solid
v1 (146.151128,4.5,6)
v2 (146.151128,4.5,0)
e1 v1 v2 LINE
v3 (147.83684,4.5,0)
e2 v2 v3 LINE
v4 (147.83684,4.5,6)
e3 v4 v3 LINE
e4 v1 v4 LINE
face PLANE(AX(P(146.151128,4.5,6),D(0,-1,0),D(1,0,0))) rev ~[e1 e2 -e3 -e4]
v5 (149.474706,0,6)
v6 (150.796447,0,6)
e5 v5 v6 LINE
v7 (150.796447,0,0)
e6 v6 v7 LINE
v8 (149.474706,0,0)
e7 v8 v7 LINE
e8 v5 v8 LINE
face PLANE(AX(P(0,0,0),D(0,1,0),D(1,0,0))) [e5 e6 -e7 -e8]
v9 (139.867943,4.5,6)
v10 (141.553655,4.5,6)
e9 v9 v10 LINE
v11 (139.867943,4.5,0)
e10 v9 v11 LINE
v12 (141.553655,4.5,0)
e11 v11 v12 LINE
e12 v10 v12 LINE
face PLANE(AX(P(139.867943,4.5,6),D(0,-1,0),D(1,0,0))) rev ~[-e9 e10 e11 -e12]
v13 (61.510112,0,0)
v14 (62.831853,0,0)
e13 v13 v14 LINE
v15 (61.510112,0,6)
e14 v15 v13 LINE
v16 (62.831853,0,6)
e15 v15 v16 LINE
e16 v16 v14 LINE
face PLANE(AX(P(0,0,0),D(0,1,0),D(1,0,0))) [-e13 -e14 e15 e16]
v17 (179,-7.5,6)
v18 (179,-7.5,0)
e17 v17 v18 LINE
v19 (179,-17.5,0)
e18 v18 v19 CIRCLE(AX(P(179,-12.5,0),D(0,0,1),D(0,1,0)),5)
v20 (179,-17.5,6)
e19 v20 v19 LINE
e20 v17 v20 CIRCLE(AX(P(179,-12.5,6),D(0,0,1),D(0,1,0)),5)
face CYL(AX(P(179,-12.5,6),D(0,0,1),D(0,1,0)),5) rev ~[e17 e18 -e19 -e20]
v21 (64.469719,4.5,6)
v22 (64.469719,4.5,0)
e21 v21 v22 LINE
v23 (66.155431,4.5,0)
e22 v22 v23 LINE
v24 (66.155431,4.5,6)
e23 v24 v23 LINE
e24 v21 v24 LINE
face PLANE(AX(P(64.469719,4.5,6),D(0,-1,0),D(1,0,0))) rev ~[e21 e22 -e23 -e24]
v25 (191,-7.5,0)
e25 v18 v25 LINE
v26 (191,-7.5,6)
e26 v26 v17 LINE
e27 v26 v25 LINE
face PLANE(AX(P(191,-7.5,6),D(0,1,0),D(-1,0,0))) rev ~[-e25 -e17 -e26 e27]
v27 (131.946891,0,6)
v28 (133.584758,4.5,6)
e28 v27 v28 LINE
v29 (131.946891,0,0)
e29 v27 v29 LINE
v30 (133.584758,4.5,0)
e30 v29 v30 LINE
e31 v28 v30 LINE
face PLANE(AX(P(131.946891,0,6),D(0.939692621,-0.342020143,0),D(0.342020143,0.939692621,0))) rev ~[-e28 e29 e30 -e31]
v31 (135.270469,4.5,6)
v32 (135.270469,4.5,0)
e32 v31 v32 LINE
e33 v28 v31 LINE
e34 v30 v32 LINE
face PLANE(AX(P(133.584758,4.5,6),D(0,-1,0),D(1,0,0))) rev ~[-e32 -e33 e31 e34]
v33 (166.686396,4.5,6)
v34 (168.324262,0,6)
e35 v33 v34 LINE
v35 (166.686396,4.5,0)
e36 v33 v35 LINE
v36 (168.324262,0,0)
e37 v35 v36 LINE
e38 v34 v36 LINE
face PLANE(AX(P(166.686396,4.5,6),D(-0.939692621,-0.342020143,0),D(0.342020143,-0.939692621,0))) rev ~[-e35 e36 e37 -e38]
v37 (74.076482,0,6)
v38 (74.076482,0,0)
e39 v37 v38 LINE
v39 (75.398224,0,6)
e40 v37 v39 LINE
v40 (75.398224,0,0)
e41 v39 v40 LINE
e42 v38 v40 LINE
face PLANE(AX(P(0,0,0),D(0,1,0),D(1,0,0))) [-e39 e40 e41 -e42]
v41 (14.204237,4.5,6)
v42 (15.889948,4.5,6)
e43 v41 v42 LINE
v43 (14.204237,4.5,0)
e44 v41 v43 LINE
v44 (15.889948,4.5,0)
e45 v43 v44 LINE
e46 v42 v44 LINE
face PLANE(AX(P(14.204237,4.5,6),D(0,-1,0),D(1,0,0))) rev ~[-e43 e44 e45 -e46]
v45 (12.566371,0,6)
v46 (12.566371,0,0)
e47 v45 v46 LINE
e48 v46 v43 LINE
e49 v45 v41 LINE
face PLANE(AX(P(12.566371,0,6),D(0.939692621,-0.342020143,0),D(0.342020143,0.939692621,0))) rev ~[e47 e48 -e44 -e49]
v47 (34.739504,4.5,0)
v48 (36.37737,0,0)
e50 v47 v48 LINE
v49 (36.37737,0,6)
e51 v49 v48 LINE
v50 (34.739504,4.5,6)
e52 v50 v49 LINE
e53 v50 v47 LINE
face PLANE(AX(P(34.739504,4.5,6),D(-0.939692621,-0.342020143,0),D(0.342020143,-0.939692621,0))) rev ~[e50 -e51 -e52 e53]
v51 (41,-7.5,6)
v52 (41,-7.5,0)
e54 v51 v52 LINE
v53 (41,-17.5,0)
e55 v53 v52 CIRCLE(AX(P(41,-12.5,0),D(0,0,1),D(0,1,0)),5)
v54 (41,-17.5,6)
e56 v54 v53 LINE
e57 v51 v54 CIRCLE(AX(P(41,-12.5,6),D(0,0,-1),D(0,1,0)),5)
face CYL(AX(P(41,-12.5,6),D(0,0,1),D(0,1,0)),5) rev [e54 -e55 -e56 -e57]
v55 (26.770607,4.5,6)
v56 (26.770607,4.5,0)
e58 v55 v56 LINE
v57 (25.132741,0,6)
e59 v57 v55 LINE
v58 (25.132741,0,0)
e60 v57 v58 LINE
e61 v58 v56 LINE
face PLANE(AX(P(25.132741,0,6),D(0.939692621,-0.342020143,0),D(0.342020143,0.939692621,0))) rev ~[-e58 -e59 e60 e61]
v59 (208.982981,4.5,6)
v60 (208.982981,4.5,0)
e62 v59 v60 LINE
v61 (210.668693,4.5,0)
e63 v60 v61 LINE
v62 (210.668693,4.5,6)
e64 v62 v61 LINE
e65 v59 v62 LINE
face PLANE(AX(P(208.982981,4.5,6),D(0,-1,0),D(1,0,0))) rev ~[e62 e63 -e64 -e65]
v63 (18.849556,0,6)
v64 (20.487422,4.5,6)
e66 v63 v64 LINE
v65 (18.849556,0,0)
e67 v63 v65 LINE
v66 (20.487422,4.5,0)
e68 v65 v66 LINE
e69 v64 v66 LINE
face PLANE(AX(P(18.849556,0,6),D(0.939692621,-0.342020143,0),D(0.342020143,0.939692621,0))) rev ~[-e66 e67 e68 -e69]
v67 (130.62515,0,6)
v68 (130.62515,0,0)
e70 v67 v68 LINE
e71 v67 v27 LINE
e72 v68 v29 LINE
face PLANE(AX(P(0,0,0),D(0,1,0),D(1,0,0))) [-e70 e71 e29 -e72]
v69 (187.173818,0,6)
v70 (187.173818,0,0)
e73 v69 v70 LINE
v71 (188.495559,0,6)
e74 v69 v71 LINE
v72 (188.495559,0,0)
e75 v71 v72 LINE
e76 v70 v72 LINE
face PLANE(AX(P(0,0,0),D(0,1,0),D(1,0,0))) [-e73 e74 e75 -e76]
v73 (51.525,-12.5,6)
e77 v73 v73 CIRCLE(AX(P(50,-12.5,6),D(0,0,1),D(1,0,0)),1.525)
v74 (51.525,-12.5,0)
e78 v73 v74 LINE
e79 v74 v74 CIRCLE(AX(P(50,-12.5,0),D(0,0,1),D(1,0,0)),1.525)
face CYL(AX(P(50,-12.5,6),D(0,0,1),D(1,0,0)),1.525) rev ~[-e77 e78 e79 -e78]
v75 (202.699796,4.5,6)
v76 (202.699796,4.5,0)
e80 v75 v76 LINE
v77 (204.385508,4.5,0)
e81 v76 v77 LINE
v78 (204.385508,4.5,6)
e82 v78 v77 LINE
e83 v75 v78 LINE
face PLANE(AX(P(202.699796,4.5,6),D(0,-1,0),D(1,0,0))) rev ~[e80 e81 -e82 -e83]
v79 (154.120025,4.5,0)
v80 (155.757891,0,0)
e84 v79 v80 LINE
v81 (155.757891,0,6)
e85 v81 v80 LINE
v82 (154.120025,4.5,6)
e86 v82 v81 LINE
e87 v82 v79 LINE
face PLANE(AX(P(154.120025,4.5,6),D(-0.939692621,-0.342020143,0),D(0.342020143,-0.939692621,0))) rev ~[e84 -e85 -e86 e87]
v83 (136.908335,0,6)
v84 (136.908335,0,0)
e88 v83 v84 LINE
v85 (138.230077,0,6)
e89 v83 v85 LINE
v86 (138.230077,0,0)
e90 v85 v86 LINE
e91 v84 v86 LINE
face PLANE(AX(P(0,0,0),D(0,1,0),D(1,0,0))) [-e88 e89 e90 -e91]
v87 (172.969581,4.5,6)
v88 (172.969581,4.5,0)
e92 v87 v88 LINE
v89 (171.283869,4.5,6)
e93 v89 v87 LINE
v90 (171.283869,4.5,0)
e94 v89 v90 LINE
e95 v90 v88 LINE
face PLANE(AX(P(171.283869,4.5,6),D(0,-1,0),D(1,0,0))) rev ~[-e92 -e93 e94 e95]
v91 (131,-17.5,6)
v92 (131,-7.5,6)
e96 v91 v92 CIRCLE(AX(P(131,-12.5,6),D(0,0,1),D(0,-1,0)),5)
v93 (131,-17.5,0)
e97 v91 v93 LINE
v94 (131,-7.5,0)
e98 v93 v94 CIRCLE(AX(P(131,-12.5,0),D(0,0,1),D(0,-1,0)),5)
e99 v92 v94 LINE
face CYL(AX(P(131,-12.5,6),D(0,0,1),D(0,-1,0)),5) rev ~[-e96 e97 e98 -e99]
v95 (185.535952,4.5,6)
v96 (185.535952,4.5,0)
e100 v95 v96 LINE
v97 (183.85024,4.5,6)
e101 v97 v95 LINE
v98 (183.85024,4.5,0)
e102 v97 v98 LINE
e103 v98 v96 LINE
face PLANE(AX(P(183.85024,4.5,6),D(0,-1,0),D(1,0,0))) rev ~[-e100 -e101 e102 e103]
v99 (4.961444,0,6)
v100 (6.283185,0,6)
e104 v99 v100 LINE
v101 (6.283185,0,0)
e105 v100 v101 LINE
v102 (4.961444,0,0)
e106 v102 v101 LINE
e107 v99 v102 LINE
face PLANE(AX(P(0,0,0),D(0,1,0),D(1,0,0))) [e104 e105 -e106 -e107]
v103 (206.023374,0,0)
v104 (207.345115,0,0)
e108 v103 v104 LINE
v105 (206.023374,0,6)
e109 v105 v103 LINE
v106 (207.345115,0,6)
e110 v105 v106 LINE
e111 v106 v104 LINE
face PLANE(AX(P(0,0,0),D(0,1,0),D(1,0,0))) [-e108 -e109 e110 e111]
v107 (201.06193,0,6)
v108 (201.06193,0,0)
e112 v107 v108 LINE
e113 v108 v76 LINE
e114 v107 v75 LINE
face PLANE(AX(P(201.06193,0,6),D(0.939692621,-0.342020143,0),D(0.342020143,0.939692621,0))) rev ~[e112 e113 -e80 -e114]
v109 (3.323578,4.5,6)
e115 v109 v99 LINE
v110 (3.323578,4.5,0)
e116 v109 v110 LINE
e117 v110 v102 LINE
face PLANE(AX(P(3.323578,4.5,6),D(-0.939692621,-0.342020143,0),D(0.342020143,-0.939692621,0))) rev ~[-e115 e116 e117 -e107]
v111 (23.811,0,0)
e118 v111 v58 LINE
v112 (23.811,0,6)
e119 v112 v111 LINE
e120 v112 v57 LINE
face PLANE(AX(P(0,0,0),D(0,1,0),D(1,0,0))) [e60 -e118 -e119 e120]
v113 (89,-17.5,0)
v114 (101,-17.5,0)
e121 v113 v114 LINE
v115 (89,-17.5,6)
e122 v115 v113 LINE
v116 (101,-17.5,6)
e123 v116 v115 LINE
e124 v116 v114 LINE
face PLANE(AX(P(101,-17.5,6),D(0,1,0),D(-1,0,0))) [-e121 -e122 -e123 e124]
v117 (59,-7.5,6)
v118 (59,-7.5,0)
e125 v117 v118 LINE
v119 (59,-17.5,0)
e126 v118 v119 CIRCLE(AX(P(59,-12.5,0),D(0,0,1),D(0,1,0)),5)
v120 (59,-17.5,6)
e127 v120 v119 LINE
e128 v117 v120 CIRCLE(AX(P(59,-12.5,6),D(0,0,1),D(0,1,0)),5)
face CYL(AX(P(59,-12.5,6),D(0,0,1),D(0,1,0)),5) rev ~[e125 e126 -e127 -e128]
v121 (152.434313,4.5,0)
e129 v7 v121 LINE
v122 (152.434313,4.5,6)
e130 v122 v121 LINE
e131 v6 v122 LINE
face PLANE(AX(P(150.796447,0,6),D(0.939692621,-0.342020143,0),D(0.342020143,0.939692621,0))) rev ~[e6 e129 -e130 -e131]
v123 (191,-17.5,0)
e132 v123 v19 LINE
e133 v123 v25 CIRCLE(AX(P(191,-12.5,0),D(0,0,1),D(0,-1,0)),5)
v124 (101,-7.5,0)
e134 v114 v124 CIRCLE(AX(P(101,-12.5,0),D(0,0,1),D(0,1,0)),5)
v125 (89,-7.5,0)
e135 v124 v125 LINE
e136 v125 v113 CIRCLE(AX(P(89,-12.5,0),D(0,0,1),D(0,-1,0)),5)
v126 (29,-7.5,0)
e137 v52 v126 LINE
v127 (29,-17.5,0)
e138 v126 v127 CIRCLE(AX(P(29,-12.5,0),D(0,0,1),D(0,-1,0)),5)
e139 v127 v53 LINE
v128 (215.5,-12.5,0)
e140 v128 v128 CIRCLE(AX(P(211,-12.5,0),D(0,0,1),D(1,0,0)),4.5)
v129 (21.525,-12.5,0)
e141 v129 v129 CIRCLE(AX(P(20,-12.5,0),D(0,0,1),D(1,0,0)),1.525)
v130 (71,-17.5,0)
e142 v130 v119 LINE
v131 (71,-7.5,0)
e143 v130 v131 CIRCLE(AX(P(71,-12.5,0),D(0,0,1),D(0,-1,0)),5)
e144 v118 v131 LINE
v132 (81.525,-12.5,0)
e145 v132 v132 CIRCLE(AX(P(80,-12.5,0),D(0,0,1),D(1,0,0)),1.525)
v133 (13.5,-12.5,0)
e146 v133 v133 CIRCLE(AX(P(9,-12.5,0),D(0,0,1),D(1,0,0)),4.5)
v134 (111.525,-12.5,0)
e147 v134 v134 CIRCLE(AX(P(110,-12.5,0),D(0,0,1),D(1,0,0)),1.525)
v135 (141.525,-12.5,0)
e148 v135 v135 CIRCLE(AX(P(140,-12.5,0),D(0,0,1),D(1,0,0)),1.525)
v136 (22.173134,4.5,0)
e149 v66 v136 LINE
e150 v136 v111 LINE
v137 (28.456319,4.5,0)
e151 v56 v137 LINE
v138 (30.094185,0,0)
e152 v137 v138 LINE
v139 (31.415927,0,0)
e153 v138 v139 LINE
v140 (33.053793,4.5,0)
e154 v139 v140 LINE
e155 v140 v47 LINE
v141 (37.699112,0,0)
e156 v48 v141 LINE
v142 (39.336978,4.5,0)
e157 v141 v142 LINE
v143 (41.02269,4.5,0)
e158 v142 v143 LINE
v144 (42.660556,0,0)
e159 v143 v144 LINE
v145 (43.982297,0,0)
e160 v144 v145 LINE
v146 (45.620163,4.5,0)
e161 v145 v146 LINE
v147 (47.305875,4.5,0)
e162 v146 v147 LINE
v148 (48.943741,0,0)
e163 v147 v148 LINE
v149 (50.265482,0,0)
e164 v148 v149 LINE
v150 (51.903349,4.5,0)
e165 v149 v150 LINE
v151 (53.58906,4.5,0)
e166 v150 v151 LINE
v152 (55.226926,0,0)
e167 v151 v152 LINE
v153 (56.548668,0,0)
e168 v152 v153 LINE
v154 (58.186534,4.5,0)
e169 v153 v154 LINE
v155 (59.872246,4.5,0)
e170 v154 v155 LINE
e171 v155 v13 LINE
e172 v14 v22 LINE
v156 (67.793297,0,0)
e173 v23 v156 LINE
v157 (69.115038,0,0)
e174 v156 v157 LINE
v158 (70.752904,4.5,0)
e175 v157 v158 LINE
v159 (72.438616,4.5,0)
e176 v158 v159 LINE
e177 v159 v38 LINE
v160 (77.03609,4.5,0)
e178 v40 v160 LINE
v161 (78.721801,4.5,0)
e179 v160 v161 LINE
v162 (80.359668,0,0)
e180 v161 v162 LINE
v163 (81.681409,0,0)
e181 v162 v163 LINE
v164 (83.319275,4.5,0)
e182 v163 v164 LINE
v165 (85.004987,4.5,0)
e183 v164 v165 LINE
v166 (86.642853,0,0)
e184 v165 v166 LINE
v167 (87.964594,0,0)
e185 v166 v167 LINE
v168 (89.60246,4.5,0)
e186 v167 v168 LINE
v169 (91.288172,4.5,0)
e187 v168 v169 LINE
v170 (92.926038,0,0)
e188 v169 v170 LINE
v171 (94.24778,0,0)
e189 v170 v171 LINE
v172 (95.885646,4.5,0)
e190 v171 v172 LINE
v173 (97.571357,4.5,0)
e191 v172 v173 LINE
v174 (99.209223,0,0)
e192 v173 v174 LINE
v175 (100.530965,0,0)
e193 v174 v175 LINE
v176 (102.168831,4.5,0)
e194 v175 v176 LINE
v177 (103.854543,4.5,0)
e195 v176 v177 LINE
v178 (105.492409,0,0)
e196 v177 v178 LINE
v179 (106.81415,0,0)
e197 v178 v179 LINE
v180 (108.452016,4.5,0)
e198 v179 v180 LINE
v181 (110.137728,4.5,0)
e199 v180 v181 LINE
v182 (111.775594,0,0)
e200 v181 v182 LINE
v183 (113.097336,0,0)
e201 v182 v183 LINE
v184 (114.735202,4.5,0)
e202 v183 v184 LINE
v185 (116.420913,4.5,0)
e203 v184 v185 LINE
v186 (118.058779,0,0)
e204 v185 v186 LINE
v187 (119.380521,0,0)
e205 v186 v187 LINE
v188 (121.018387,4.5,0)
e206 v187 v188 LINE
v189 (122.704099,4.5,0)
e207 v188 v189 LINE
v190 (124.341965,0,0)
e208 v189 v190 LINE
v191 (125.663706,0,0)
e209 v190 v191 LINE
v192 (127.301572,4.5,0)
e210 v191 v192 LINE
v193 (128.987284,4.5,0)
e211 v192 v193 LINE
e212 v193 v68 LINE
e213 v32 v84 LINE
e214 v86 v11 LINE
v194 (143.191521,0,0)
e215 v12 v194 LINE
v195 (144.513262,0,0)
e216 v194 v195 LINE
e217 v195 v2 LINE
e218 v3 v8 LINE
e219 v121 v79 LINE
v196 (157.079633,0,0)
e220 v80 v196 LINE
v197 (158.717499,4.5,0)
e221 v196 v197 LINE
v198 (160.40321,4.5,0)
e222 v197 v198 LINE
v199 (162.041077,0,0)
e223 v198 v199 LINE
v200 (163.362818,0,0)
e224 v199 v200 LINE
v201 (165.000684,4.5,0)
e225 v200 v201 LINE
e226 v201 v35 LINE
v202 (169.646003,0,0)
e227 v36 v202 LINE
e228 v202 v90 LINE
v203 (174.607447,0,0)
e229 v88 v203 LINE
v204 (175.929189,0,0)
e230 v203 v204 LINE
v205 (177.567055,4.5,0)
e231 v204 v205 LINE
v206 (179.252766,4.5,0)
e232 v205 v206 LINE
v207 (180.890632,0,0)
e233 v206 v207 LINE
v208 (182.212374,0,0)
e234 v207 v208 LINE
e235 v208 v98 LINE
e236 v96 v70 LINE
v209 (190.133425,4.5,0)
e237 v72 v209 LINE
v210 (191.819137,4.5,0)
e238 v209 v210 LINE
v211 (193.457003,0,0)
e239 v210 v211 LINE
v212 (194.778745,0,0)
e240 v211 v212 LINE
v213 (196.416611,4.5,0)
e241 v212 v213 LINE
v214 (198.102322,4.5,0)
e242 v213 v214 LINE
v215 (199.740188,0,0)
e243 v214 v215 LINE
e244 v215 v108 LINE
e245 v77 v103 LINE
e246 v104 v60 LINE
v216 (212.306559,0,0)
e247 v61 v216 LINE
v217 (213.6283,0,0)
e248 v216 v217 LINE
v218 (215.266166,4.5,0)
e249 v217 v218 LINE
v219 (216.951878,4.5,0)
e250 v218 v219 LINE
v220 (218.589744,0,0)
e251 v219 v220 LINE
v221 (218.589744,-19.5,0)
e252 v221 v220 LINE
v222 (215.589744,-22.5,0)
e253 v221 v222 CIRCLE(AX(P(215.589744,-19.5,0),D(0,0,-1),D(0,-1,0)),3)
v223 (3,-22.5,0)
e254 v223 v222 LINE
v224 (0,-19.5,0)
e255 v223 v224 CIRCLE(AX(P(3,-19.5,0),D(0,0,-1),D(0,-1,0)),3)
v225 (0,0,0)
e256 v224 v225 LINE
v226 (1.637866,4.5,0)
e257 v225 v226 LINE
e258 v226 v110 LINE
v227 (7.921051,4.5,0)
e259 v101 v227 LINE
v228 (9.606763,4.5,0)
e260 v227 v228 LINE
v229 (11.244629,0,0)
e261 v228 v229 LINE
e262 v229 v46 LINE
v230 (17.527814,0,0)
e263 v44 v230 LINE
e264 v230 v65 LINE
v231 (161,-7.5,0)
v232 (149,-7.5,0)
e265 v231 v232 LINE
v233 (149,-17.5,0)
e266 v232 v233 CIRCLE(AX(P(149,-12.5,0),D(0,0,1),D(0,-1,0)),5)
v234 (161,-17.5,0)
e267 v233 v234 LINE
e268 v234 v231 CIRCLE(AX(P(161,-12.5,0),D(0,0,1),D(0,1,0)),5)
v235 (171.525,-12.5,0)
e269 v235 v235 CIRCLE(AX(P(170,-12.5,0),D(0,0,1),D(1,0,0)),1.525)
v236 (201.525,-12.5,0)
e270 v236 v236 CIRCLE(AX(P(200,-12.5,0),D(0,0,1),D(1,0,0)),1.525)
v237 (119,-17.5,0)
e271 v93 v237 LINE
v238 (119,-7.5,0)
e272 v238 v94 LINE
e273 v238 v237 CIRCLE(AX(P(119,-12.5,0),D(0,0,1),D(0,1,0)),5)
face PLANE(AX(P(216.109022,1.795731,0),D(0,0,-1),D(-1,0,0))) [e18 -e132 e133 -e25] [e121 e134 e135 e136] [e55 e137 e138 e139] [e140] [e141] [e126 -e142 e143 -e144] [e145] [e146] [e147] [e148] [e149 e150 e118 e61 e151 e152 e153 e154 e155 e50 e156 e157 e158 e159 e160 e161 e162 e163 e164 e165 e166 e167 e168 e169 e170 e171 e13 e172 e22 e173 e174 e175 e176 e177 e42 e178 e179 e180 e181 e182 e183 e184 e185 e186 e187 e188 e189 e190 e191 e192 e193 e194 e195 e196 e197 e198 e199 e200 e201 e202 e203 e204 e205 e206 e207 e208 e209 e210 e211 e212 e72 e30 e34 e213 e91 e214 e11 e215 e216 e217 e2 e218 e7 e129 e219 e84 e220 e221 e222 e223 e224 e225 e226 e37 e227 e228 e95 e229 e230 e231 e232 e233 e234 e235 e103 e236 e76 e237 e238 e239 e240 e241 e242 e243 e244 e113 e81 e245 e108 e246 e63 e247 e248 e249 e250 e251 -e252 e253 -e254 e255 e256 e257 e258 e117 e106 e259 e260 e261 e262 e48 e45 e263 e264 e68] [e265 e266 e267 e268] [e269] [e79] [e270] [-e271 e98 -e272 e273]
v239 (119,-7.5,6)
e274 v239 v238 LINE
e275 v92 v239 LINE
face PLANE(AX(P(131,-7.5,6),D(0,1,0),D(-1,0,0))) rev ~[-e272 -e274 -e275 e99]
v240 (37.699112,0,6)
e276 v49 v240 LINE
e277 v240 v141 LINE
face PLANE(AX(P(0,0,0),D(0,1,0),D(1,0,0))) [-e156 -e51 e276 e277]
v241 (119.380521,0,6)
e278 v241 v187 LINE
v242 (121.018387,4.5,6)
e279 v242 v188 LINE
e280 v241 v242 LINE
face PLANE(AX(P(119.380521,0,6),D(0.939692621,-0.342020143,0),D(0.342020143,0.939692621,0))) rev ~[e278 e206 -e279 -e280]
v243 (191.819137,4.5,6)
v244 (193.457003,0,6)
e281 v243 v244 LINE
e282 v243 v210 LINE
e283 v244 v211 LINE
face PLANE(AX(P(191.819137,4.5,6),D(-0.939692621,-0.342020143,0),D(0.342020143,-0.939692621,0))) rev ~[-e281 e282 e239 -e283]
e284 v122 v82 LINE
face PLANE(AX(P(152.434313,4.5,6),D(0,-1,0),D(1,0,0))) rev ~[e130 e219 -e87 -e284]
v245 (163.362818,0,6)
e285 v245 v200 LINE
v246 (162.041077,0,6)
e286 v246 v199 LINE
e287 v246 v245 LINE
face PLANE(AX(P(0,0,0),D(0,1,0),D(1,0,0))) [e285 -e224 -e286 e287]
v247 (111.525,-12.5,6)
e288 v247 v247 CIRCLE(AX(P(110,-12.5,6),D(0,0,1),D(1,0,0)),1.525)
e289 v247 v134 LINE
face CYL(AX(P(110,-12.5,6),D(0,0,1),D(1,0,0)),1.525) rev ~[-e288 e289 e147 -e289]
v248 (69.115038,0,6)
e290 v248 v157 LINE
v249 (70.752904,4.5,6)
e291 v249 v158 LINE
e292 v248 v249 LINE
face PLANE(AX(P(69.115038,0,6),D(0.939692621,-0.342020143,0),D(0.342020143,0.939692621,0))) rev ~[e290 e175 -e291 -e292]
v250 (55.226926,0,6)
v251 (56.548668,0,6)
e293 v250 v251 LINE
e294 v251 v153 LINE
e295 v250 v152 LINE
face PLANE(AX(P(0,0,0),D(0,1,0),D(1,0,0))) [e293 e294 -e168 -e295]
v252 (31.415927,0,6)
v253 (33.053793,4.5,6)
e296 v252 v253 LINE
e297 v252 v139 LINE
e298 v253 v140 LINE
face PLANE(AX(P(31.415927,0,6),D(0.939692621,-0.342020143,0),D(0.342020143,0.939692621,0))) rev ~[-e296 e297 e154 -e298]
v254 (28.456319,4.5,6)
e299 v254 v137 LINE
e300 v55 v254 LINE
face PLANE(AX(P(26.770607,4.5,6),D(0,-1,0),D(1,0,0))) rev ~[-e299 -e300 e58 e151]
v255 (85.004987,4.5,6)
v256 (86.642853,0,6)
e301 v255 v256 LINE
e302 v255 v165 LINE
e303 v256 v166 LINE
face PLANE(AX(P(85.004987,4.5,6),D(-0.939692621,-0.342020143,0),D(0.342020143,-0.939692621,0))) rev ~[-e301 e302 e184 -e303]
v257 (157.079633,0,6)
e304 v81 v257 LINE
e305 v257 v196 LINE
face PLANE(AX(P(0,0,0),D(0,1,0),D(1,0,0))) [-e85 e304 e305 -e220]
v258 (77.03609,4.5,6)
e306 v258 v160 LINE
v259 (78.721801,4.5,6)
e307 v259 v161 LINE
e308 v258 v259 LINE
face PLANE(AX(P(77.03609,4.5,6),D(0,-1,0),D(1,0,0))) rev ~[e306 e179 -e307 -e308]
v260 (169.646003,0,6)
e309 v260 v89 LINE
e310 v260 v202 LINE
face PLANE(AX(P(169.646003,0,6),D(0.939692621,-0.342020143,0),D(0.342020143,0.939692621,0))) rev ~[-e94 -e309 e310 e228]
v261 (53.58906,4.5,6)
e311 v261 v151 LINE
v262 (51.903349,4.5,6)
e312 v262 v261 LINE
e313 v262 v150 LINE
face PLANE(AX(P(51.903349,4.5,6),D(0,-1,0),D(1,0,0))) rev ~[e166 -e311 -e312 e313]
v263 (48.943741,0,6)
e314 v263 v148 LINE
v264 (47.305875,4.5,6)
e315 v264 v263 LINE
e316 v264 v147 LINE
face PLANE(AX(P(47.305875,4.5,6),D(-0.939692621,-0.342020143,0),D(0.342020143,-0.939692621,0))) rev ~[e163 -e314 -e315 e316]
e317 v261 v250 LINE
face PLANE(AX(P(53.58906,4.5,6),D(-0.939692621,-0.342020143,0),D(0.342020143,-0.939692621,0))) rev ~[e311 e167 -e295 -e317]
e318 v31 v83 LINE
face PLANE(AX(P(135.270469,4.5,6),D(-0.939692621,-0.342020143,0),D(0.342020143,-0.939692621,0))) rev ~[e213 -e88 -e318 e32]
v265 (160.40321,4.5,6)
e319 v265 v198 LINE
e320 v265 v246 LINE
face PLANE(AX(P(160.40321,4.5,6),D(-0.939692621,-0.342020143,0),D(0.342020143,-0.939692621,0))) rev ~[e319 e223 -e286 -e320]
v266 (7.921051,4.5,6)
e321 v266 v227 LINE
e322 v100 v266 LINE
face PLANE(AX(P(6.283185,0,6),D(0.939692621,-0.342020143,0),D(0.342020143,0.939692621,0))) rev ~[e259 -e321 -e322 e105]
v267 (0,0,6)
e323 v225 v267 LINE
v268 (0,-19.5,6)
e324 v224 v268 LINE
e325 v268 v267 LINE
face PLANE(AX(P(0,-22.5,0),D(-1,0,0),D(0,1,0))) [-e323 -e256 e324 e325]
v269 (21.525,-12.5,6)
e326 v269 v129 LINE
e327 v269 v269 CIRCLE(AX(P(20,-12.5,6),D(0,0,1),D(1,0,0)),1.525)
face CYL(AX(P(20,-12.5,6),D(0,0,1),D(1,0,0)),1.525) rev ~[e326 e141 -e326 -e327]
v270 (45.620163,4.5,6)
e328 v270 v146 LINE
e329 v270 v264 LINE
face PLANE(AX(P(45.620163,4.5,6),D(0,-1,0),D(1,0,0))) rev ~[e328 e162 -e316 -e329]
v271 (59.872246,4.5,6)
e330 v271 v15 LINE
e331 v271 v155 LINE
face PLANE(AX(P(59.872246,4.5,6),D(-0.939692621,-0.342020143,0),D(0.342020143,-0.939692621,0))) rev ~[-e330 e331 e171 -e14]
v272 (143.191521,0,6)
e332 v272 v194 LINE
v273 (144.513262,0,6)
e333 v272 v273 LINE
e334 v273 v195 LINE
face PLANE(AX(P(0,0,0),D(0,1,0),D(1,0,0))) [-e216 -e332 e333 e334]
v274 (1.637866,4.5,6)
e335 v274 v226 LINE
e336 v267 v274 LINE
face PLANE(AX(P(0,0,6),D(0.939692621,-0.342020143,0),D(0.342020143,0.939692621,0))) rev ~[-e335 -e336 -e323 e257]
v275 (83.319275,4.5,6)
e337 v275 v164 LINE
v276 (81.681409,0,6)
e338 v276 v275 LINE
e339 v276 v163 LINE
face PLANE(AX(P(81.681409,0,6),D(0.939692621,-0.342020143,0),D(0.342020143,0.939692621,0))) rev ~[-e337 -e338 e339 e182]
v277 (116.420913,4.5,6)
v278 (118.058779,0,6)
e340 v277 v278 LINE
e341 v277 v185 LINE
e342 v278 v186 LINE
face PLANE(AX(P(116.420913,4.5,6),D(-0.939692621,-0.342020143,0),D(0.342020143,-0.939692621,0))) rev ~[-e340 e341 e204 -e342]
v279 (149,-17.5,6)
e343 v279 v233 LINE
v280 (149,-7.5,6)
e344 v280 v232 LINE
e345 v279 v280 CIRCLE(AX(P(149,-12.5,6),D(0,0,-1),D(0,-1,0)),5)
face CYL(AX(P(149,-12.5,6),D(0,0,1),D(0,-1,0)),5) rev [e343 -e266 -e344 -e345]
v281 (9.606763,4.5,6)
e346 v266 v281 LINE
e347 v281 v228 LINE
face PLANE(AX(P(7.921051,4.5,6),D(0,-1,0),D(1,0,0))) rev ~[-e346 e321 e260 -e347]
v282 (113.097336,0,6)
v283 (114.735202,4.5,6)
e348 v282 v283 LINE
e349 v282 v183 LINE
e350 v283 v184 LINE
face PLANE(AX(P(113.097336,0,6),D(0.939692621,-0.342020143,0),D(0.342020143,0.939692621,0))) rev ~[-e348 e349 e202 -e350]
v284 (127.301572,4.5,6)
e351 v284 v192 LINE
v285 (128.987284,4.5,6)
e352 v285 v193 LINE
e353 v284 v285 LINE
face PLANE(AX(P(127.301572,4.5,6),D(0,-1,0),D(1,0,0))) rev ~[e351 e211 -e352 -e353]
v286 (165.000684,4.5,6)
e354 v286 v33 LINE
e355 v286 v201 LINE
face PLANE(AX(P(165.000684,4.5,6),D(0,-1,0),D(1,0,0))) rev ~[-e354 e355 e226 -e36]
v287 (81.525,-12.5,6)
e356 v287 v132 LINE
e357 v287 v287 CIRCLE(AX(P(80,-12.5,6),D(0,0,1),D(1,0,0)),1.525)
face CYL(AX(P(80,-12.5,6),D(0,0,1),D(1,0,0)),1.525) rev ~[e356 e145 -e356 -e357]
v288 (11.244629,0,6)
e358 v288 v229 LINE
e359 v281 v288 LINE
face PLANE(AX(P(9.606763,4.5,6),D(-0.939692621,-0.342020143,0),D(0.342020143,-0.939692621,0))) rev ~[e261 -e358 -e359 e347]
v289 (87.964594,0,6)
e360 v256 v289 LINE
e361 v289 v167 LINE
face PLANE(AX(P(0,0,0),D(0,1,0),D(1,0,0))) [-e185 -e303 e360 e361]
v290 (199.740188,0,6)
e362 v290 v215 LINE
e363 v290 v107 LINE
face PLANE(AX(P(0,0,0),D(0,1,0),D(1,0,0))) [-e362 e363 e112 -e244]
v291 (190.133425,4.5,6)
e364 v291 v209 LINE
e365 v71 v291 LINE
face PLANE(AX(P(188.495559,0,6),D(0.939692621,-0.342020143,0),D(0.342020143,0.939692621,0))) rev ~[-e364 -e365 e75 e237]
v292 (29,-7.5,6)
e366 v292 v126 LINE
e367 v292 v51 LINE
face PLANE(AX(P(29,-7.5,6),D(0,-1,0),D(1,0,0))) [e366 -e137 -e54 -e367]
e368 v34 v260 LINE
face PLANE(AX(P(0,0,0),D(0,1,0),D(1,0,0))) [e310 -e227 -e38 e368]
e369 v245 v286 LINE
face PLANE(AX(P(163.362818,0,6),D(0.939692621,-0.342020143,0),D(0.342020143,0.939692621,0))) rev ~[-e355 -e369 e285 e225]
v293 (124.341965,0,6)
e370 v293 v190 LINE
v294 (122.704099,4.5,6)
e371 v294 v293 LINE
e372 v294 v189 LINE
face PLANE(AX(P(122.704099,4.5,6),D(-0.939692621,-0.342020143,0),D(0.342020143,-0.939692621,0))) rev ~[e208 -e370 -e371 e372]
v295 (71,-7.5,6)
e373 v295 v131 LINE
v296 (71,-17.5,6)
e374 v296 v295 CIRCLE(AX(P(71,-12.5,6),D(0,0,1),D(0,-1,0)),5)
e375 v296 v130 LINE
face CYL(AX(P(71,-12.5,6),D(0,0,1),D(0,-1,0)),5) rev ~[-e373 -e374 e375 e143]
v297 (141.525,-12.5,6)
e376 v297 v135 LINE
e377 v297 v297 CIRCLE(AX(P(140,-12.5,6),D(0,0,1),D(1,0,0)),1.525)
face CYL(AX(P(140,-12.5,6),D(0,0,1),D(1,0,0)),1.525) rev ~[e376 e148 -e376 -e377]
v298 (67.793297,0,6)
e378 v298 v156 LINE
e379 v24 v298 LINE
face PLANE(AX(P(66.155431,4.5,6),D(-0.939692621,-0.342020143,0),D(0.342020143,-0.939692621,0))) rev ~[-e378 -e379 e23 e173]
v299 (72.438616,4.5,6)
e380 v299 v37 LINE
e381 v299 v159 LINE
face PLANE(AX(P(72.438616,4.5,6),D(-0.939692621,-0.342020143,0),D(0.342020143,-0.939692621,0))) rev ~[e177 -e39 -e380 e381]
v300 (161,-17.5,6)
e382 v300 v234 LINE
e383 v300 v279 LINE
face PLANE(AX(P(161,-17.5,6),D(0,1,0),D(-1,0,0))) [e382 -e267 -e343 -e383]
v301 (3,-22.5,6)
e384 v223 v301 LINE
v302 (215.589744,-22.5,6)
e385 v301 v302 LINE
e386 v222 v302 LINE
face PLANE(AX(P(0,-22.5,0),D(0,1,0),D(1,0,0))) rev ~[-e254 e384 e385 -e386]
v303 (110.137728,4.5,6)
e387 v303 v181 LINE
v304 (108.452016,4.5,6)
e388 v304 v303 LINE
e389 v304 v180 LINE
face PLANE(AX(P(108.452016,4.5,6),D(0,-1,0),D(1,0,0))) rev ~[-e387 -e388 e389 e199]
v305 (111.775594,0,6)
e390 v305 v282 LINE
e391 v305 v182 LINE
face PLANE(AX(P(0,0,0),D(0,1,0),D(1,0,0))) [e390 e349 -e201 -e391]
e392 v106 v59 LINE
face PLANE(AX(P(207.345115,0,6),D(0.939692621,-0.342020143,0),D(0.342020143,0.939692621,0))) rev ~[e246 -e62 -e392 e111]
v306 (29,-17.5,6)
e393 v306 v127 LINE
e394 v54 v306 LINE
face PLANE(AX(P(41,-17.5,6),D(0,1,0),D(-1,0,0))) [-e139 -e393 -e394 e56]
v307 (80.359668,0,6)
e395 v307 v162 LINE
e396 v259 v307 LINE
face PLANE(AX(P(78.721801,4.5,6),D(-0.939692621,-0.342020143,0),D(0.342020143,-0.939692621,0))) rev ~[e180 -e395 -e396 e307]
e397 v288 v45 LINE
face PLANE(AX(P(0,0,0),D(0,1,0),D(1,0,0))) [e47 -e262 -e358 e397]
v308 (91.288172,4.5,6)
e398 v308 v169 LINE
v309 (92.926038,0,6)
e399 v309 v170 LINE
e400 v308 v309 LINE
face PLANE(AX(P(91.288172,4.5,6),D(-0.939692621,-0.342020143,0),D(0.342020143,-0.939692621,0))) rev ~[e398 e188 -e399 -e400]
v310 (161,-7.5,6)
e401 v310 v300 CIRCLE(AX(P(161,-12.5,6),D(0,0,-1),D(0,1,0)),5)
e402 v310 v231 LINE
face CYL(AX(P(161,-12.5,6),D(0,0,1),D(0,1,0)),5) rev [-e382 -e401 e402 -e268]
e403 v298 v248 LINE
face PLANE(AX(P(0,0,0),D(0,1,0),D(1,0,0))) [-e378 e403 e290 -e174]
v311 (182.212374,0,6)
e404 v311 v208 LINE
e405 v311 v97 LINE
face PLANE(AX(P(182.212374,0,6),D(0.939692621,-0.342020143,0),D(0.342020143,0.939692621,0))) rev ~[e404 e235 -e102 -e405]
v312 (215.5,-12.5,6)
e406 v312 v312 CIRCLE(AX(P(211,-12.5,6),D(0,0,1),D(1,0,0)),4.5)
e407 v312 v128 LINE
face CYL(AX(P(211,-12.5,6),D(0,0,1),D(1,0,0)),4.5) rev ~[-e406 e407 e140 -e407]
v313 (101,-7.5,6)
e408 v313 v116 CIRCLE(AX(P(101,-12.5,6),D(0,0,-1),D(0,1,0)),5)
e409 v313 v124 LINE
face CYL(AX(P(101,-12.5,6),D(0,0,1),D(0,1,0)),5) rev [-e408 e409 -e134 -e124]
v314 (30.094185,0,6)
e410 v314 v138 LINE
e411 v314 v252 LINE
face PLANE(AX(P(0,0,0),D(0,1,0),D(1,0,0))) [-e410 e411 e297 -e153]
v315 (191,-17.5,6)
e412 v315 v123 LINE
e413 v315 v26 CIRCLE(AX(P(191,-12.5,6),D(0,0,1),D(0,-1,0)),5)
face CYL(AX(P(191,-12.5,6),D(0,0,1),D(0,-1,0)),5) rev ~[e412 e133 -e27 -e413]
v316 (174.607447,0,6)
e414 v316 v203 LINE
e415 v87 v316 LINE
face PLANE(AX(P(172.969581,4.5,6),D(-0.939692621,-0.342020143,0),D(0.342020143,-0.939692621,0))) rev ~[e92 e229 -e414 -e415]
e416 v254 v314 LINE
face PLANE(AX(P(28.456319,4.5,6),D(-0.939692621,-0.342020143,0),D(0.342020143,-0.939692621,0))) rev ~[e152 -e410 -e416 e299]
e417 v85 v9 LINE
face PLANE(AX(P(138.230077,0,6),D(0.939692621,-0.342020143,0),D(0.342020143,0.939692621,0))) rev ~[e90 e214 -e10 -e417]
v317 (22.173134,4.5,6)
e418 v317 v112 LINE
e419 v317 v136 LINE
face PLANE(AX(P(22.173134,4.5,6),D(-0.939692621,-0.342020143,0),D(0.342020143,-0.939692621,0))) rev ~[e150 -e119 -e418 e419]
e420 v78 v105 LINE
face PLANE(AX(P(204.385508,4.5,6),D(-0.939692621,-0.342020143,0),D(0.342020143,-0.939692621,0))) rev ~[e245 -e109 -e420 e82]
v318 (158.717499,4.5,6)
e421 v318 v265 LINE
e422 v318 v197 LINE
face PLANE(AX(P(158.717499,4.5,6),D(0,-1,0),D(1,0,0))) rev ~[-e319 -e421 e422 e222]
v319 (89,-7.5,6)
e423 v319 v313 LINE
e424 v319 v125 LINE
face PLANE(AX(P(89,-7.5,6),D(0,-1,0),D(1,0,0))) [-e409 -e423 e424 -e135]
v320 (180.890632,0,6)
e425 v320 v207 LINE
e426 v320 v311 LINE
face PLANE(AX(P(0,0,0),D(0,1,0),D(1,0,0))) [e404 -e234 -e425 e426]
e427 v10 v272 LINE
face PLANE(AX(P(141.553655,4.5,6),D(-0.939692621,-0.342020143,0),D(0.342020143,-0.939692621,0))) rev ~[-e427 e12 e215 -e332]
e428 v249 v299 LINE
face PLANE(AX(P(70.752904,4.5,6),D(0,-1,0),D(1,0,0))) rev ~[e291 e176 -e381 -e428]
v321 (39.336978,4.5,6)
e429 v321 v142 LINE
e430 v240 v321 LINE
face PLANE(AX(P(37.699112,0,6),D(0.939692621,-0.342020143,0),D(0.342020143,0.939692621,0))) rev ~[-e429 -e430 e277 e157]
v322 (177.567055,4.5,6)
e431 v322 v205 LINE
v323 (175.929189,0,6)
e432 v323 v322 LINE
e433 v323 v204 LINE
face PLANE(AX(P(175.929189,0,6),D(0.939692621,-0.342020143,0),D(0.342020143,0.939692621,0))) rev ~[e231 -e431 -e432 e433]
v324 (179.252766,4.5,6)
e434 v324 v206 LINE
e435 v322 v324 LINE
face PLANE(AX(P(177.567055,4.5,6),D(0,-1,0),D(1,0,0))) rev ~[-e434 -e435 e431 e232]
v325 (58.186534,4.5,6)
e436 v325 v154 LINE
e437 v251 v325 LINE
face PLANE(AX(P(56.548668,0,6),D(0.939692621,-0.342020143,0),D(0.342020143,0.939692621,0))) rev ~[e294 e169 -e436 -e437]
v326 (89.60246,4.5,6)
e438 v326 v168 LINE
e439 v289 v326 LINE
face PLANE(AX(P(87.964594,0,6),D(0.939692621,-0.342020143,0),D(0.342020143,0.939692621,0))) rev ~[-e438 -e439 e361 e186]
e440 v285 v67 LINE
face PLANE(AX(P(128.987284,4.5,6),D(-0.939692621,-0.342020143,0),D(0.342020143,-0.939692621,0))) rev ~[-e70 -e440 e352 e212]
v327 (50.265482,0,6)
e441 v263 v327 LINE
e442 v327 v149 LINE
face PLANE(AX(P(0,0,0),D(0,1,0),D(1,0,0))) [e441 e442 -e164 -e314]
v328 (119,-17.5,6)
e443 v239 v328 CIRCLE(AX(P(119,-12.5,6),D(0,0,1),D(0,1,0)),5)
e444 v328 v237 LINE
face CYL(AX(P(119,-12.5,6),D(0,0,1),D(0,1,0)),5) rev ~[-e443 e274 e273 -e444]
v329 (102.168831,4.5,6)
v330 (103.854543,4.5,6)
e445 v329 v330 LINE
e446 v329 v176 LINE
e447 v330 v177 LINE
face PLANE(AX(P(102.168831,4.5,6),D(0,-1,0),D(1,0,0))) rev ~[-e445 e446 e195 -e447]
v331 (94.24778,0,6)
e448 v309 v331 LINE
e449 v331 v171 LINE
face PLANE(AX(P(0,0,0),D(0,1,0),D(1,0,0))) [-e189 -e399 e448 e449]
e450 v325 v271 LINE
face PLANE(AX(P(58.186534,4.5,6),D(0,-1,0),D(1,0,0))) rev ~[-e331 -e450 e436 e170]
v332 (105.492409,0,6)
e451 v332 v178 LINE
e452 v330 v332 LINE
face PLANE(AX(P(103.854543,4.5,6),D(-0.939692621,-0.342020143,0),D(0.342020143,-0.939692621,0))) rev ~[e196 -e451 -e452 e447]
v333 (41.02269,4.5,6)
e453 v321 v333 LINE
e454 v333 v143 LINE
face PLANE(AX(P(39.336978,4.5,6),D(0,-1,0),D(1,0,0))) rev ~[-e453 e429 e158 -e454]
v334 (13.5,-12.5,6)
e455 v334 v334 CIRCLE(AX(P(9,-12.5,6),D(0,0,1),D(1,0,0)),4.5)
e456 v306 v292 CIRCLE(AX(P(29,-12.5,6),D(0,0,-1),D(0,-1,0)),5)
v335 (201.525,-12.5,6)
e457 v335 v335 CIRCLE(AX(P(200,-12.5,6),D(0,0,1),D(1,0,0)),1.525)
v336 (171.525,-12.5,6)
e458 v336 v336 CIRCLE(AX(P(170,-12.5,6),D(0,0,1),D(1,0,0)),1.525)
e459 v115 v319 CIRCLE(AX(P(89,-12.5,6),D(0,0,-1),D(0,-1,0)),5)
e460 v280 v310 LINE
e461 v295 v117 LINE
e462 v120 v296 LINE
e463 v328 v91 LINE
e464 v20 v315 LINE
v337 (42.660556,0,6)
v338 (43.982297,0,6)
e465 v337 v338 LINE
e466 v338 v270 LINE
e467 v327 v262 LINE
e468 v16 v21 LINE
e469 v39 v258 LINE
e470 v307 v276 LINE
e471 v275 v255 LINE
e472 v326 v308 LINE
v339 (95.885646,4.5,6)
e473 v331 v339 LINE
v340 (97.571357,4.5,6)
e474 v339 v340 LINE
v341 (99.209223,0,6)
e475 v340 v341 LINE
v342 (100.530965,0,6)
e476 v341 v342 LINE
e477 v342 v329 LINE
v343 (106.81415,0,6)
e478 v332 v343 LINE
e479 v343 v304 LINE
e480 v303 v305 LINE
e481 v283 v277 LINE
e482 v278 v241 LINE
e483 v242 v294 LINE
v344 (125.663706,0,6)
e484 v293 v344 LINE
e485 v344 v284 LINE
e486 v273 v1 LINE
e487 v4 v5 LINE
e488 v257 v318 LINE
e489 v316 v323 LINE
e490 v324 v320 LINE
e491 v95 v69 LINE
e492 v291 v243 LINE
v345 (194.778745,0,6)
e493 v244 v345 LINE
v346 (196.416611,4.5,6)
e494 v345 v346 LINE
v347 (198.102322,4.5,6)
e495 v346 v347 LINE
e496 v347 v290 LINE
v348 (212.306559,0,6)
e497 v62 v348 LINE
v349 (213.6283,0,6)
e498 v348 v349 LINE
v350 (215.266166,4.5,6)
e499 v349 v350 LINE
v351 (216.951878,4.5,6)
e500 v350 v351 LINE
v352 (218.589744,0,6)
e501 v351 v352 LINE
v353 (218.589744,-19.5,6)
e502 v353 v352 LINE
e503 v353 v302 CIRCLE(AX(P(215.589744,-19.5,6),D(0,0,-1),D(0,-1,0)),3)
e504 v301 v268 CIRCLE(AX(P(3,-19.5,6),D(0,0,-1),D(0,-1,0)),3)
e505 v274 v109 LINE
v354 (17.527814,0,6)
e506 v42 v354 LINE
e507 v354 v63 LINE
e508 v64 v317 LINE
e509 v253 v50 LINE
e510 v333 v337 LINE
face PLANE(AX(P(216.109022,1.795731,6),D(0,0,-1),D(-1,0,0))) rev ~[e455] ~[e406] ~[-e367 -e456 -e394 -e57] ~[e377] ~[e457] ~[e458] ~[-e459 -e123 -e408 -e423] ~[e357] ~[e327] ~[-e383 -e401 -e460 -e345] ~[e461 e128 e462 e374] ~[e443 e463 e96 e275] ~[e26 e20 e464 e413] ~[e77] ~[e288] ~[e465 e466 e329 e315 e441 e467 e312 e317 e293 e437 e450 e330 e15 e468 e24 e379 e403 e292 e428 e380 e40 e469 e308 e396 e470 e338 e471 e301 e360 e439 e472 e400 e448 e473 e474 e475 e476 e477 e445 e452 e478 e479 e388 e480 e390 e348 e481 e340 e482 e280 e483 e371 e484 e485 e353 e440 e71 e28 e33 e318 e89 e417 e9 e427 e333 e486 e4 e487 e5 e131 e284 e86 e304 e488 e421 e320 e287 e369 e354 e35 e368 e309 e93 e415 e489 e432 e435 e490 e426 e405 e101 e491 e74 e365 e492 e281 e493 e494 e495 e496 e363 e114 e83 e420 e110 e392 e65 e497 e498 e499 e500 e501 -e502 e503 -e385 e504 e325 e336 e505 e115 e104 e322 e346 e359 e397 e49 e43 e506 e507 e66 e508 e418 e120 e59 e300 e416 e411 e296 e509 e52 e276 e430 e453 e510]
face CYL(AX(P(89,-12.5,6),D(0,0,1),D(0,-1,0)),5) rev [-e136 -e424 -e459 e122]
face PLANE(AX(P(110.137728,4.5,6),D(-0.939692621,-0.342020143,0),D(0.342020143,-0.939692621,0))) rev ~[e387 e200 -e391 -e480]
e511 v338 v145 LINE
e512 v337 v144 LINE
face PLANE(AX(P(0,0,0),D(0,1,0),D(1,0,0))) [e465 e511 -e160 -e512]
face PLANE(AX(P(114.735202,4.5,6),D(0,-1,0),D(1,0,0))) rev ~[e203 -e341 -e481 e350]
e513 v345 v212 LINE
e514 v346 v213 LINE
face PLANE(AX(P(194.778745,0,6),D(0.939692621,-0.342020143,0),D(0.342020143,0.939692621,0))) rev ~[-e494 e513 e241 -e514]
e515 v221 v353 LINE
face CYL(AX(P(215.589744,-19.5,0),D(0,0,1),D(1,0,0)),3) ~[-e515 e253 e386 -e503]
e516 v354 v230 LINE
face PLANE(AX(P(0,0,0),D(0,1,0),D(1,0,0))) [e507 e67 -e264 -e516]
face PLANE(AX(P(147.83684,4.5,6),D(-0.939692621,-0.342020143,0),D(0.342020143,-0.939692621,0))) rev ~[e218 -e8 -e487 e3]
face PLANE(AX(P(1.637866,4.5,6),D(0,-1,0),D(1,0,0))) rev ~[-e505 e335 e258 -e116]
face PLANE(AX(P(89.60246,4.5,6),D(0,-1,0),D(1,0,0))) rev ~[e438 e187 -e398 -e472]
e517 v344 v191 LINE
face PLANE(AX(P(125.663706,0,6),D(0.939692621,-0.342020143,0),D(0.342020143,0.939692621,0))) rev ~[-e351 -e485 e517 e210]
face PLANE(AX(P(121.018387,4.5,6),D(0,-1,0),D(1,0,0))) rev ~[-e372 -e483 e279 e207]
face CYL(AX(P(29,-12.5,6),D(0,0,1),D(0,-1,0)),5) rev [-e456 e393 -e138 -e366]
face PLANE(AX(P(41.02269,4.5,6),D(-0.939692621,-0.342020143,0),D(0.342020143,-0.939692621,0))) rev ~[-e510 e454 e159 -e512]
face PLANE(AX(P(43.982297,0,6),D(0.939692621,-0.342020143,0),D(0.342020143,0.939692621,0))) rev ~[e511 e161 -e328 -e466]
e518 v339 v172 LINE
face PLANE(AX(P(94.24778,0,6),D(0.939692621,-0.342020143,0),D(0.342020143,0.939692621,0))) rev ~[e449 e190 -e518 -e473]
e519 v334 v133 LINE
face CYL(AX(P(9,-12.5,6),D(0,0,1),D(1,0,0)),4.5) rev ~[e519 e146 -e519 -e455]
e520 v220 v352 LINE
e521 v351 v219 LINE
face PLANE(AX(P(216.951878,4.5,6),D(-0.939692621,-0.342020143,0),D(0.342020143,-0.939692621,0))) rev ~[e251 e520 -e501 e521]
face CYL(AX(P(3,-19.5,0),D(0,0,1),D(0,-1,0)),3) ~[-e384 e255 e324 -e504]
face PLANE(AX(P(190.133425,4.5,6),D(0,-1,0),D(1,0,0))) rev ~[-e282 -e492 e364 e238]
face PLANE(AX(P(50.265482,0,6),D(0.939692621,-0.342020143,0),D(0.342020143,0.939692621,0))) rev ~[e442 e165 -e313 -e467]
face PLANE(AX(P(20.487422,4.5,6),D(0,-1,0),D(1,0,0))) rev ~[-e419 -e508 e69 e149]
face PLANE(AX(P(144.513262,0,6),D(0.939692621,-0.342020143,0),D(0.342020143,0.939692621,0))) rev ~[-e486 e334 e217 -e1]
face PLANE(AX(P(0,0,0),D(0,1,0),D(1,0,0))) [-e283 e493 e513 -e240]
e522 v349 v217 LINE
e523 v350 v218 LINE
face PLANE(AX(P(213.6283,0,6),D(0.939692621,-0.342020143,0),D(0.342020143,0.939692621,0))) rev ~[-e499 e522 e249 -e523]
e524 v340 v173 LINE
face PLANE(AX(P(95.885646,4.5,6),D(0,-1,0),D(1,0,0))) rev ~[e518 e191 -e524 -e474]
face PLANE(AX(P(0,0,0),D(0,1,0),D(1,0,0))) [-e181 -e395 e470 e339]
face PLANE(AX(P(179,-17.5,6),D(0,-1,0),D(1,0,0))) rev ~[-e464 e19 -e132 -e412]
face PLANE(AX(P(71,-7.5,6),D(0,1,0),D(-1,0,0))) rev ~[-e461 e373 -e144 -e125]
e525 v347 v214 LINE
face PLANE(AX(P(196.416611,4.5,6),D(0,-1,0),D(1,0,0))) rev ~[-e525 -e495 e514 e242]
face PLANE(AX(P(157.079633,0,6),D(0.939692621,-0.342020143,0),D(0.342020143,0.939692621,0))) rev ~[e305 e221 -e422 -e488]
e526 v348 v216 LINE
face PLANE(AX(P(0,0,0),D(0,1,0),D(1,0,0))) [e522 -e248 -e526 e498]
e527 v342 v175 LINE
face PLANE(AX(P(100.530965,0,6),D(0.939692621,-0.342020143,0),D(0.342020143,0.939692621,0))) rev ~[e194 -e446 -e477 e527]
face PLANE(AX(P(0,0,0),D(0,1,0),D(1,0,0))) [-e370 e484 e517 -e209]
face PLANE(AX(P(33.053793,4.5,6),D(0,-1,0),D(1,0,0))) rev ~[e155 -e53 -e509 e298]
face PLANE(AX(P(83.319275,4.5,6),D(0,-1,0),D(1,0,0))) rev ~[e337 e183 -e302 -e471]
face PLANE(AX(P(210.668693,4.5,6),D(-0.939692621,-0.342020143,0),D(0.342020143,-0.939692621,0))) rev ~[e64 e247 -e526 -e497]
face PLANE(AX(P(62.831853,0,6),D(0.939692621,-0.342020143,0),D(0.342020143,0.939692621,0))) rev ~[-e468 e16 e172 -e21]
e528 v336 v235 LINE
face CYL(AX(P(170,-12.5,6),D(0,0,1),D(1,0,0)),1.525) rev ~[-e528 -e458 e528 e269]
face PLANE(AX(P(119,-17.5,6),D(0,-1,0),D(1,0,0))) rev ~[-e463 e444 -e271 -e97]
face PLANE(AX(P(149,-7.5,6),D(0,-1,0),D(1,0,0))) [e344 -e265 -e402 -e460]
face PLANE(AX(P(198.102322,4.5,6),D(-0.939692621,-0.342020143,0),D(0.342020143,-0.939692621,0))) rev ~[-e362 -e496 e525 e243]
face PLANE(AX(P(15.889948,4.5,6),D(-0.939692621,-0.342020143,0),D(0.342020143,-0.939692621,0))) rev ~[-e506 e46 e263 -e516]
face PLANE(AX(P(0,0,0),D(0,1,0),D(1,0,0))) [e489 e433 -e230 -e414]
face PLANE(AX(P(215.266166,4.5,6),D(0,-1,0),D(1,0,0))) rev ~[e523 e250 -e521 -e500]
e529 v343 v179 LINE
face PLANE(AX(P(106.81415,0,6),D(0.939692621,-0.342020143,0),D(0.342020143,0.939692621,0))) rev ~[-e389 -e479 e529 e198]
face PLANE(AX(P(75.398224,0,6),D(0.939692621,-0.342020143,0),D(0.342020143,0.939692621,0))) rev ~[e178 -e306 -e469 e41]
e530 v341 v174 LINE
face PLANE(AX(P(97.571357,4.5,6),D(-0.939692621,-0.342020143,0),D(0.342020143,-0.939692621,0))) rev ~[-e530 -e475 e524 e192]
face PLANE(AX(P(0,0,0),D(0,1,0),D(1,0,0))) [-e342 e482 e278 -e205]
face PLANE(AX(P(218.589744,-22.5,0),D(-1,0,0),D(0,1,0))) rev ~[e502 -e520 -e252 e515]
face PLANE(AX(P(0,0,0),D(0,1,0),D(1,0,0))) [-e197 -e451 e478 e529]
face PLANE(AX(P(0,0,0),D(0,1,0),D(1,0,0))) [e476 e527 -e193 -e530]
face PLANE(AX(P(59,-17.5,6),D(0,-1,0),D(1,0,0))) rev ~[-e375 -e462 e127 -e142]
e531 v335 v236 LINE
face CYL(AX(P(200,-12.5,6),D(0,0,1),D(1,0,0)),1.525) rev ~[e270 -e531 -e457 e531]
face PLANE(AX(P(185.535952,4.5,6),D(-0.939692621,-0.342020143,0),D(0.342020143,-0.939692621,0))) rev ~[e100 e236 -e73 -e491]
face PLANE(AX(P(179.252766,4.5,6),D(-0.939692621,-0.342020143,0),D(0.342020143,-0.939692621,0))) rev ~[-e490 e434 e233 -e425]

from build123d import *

# Parameters (mm, degrees)
SKETCH_1_W             = 218.58974427
SKETCH_1_H             = 22.5
EXTRUDE_1_DEPTH        = 6
EXTRUDE_2_DEPTH        = 6
PATTERN_LINEAR_1_COUNT = 35
PATTERN_LINEAR_1_PITCH = 6.283185307
SKETCH_3_R             = 1.525
CUT_EXTRUDE_1_DEPTH    = 10
PATTERN_LINEAR_2_COUNT = 7
PATTERN_LINEAR_2_PITCH = 30
FILLET_1_R             = 3
SKETCH_4_R             = 4.5
CUT_EXTRUDE_2_DEPTH    = 10


with BuildPart() as part:
    # 草图1 → 拉伸1 (new body)
    with BuildSketch(Plane.XY):
        with Locations((109.294872135, -11.25)):
            Rectangle(SKETCH_1_W, SKETCH_1_H)
    extrude(amount=EXTRUDE_1_DEPTH)

    # 草图2 → 拉伸2 (add)
    with BuildSketch(Plane.XY.offset(6)):
        Polygon((0, 0), (1.637866054, 4.5), (3.323577771, 4.5), (4.961443825, 0), align=None)
    extrude_2 = extrude(amount=-EXTRUDE_2_DEPTH)

    # 阵列(线性)1: 拉伸2 ×35
    with Locations(*[(i * PATTERN_LINEAR_1_PITCH, 0, 0) for i in range(1, PATTERN_LINEAR_1_COUNT)]):
        add(extrude_2)

    # 草图3 → 切除-拉伸1 (cut)
    with BuildSketch(Plane.XY.offset(6)):
        with Locations((20, -12.5)):
            Circle(SKETCH_3_R)
    cut_extrude_1 = extrude(amount=-CUT_EXTRUDE_1_DEPTH, mode=Mode.SUBTRACT)

    # 阵列(线性)2: 切除-拉伸1 ×7
    with Locations(*[(i * PATTERN_LINEAR_2_PITCH, 0, 0) for i in range(1, PATTERN_LINEAR_2_COUNT)]):
        add(cut_extrude_1, mode=Mode.SUBTRACT)

    # 圆角1
    fillet_1_edges = [part.edges().sort_by_distance(p)[0] for p in [
        (218.58974427, -22.5, 3),
        (0, -22.5, 3),
    ]]
    fillet(fillet_1_edges, radius=FILLET_1_R)

    # 草图4 → 切除-拉伸2 (cut)
    with BuildSketch(Plane.XY.offset(6)):
        with Locations((9, -12.5)):
            Circle(SKETCH_4_R)
        with Locations((211, -12.5)):
            Circle(SKETCH_4_R)
        with BuildLine():
            Line((29, -7.5), (41, -7.5))
            ThreePointArc((41, -7.5), (46, -12.5), (41, -17.5))
            Line((41, -17.5), (29, -17.5))
            ThreePointArc((29, -17.5), (24, -12.5), (29, -7.5))
        make_face()
        with BuildLine():
            Line((71, -7.5), (59, -7.5))
            ThreePointArc((59, -7.5), (54, -12.5), (59, -17.5))
            Line((59, -17.5), (71, -17.5))
            ThreePointArc((71, -17.5), (76, -12.5), (71, -7.5))
        make_face()
        with BuildLine():
            Line((89, -7.5), (101, -7.5))
            ThreePointArc((101, -7.5), (106, -12.5), (101, -17.5))
            Line((101, -17.5), (89, -17.5))
            ThreePointArc((89, -17.5), (84, -12.5), (89, -7.5))
        make_face()
        with BuildLine():
            Line((191, -7.5), (179, -7.5))
            ThreePointArc((179, -7.5), (174, -12.5), (179, -17.5))
            Line((179, -17.5), (191, -17.5))
            ThreePointArc((191, -17.5), (196, -12.5), (191, -7.5))
        make_face()
        with BuildLine():
            Line((149, -7.5), (161, -7.5))
            ThreePointArc((161, -7.5), (166, -12.5), (161, -17.5))
            Line((161, -17.5), (149, -17.5))
            ThreePointArc((149, -17.5), (144, -12.5), (149, -7.5))
        make_face()
        with BuildLine():
            Line((131, -7.5), (119, -7.5))
            ThreePointArc((119, -7.5), (114, -12.5), (119, -17.5))
            Line((119, -17.5), (131, -17.5))
            ThreePointArc((131, -17.5), (136, -12.5), (131, -7.5))
        make_face()
    extrude(amount=-CUT_EXTRUDE_2_DEPTH, mode=Mode.SUBTRACT)


solid = part.part
